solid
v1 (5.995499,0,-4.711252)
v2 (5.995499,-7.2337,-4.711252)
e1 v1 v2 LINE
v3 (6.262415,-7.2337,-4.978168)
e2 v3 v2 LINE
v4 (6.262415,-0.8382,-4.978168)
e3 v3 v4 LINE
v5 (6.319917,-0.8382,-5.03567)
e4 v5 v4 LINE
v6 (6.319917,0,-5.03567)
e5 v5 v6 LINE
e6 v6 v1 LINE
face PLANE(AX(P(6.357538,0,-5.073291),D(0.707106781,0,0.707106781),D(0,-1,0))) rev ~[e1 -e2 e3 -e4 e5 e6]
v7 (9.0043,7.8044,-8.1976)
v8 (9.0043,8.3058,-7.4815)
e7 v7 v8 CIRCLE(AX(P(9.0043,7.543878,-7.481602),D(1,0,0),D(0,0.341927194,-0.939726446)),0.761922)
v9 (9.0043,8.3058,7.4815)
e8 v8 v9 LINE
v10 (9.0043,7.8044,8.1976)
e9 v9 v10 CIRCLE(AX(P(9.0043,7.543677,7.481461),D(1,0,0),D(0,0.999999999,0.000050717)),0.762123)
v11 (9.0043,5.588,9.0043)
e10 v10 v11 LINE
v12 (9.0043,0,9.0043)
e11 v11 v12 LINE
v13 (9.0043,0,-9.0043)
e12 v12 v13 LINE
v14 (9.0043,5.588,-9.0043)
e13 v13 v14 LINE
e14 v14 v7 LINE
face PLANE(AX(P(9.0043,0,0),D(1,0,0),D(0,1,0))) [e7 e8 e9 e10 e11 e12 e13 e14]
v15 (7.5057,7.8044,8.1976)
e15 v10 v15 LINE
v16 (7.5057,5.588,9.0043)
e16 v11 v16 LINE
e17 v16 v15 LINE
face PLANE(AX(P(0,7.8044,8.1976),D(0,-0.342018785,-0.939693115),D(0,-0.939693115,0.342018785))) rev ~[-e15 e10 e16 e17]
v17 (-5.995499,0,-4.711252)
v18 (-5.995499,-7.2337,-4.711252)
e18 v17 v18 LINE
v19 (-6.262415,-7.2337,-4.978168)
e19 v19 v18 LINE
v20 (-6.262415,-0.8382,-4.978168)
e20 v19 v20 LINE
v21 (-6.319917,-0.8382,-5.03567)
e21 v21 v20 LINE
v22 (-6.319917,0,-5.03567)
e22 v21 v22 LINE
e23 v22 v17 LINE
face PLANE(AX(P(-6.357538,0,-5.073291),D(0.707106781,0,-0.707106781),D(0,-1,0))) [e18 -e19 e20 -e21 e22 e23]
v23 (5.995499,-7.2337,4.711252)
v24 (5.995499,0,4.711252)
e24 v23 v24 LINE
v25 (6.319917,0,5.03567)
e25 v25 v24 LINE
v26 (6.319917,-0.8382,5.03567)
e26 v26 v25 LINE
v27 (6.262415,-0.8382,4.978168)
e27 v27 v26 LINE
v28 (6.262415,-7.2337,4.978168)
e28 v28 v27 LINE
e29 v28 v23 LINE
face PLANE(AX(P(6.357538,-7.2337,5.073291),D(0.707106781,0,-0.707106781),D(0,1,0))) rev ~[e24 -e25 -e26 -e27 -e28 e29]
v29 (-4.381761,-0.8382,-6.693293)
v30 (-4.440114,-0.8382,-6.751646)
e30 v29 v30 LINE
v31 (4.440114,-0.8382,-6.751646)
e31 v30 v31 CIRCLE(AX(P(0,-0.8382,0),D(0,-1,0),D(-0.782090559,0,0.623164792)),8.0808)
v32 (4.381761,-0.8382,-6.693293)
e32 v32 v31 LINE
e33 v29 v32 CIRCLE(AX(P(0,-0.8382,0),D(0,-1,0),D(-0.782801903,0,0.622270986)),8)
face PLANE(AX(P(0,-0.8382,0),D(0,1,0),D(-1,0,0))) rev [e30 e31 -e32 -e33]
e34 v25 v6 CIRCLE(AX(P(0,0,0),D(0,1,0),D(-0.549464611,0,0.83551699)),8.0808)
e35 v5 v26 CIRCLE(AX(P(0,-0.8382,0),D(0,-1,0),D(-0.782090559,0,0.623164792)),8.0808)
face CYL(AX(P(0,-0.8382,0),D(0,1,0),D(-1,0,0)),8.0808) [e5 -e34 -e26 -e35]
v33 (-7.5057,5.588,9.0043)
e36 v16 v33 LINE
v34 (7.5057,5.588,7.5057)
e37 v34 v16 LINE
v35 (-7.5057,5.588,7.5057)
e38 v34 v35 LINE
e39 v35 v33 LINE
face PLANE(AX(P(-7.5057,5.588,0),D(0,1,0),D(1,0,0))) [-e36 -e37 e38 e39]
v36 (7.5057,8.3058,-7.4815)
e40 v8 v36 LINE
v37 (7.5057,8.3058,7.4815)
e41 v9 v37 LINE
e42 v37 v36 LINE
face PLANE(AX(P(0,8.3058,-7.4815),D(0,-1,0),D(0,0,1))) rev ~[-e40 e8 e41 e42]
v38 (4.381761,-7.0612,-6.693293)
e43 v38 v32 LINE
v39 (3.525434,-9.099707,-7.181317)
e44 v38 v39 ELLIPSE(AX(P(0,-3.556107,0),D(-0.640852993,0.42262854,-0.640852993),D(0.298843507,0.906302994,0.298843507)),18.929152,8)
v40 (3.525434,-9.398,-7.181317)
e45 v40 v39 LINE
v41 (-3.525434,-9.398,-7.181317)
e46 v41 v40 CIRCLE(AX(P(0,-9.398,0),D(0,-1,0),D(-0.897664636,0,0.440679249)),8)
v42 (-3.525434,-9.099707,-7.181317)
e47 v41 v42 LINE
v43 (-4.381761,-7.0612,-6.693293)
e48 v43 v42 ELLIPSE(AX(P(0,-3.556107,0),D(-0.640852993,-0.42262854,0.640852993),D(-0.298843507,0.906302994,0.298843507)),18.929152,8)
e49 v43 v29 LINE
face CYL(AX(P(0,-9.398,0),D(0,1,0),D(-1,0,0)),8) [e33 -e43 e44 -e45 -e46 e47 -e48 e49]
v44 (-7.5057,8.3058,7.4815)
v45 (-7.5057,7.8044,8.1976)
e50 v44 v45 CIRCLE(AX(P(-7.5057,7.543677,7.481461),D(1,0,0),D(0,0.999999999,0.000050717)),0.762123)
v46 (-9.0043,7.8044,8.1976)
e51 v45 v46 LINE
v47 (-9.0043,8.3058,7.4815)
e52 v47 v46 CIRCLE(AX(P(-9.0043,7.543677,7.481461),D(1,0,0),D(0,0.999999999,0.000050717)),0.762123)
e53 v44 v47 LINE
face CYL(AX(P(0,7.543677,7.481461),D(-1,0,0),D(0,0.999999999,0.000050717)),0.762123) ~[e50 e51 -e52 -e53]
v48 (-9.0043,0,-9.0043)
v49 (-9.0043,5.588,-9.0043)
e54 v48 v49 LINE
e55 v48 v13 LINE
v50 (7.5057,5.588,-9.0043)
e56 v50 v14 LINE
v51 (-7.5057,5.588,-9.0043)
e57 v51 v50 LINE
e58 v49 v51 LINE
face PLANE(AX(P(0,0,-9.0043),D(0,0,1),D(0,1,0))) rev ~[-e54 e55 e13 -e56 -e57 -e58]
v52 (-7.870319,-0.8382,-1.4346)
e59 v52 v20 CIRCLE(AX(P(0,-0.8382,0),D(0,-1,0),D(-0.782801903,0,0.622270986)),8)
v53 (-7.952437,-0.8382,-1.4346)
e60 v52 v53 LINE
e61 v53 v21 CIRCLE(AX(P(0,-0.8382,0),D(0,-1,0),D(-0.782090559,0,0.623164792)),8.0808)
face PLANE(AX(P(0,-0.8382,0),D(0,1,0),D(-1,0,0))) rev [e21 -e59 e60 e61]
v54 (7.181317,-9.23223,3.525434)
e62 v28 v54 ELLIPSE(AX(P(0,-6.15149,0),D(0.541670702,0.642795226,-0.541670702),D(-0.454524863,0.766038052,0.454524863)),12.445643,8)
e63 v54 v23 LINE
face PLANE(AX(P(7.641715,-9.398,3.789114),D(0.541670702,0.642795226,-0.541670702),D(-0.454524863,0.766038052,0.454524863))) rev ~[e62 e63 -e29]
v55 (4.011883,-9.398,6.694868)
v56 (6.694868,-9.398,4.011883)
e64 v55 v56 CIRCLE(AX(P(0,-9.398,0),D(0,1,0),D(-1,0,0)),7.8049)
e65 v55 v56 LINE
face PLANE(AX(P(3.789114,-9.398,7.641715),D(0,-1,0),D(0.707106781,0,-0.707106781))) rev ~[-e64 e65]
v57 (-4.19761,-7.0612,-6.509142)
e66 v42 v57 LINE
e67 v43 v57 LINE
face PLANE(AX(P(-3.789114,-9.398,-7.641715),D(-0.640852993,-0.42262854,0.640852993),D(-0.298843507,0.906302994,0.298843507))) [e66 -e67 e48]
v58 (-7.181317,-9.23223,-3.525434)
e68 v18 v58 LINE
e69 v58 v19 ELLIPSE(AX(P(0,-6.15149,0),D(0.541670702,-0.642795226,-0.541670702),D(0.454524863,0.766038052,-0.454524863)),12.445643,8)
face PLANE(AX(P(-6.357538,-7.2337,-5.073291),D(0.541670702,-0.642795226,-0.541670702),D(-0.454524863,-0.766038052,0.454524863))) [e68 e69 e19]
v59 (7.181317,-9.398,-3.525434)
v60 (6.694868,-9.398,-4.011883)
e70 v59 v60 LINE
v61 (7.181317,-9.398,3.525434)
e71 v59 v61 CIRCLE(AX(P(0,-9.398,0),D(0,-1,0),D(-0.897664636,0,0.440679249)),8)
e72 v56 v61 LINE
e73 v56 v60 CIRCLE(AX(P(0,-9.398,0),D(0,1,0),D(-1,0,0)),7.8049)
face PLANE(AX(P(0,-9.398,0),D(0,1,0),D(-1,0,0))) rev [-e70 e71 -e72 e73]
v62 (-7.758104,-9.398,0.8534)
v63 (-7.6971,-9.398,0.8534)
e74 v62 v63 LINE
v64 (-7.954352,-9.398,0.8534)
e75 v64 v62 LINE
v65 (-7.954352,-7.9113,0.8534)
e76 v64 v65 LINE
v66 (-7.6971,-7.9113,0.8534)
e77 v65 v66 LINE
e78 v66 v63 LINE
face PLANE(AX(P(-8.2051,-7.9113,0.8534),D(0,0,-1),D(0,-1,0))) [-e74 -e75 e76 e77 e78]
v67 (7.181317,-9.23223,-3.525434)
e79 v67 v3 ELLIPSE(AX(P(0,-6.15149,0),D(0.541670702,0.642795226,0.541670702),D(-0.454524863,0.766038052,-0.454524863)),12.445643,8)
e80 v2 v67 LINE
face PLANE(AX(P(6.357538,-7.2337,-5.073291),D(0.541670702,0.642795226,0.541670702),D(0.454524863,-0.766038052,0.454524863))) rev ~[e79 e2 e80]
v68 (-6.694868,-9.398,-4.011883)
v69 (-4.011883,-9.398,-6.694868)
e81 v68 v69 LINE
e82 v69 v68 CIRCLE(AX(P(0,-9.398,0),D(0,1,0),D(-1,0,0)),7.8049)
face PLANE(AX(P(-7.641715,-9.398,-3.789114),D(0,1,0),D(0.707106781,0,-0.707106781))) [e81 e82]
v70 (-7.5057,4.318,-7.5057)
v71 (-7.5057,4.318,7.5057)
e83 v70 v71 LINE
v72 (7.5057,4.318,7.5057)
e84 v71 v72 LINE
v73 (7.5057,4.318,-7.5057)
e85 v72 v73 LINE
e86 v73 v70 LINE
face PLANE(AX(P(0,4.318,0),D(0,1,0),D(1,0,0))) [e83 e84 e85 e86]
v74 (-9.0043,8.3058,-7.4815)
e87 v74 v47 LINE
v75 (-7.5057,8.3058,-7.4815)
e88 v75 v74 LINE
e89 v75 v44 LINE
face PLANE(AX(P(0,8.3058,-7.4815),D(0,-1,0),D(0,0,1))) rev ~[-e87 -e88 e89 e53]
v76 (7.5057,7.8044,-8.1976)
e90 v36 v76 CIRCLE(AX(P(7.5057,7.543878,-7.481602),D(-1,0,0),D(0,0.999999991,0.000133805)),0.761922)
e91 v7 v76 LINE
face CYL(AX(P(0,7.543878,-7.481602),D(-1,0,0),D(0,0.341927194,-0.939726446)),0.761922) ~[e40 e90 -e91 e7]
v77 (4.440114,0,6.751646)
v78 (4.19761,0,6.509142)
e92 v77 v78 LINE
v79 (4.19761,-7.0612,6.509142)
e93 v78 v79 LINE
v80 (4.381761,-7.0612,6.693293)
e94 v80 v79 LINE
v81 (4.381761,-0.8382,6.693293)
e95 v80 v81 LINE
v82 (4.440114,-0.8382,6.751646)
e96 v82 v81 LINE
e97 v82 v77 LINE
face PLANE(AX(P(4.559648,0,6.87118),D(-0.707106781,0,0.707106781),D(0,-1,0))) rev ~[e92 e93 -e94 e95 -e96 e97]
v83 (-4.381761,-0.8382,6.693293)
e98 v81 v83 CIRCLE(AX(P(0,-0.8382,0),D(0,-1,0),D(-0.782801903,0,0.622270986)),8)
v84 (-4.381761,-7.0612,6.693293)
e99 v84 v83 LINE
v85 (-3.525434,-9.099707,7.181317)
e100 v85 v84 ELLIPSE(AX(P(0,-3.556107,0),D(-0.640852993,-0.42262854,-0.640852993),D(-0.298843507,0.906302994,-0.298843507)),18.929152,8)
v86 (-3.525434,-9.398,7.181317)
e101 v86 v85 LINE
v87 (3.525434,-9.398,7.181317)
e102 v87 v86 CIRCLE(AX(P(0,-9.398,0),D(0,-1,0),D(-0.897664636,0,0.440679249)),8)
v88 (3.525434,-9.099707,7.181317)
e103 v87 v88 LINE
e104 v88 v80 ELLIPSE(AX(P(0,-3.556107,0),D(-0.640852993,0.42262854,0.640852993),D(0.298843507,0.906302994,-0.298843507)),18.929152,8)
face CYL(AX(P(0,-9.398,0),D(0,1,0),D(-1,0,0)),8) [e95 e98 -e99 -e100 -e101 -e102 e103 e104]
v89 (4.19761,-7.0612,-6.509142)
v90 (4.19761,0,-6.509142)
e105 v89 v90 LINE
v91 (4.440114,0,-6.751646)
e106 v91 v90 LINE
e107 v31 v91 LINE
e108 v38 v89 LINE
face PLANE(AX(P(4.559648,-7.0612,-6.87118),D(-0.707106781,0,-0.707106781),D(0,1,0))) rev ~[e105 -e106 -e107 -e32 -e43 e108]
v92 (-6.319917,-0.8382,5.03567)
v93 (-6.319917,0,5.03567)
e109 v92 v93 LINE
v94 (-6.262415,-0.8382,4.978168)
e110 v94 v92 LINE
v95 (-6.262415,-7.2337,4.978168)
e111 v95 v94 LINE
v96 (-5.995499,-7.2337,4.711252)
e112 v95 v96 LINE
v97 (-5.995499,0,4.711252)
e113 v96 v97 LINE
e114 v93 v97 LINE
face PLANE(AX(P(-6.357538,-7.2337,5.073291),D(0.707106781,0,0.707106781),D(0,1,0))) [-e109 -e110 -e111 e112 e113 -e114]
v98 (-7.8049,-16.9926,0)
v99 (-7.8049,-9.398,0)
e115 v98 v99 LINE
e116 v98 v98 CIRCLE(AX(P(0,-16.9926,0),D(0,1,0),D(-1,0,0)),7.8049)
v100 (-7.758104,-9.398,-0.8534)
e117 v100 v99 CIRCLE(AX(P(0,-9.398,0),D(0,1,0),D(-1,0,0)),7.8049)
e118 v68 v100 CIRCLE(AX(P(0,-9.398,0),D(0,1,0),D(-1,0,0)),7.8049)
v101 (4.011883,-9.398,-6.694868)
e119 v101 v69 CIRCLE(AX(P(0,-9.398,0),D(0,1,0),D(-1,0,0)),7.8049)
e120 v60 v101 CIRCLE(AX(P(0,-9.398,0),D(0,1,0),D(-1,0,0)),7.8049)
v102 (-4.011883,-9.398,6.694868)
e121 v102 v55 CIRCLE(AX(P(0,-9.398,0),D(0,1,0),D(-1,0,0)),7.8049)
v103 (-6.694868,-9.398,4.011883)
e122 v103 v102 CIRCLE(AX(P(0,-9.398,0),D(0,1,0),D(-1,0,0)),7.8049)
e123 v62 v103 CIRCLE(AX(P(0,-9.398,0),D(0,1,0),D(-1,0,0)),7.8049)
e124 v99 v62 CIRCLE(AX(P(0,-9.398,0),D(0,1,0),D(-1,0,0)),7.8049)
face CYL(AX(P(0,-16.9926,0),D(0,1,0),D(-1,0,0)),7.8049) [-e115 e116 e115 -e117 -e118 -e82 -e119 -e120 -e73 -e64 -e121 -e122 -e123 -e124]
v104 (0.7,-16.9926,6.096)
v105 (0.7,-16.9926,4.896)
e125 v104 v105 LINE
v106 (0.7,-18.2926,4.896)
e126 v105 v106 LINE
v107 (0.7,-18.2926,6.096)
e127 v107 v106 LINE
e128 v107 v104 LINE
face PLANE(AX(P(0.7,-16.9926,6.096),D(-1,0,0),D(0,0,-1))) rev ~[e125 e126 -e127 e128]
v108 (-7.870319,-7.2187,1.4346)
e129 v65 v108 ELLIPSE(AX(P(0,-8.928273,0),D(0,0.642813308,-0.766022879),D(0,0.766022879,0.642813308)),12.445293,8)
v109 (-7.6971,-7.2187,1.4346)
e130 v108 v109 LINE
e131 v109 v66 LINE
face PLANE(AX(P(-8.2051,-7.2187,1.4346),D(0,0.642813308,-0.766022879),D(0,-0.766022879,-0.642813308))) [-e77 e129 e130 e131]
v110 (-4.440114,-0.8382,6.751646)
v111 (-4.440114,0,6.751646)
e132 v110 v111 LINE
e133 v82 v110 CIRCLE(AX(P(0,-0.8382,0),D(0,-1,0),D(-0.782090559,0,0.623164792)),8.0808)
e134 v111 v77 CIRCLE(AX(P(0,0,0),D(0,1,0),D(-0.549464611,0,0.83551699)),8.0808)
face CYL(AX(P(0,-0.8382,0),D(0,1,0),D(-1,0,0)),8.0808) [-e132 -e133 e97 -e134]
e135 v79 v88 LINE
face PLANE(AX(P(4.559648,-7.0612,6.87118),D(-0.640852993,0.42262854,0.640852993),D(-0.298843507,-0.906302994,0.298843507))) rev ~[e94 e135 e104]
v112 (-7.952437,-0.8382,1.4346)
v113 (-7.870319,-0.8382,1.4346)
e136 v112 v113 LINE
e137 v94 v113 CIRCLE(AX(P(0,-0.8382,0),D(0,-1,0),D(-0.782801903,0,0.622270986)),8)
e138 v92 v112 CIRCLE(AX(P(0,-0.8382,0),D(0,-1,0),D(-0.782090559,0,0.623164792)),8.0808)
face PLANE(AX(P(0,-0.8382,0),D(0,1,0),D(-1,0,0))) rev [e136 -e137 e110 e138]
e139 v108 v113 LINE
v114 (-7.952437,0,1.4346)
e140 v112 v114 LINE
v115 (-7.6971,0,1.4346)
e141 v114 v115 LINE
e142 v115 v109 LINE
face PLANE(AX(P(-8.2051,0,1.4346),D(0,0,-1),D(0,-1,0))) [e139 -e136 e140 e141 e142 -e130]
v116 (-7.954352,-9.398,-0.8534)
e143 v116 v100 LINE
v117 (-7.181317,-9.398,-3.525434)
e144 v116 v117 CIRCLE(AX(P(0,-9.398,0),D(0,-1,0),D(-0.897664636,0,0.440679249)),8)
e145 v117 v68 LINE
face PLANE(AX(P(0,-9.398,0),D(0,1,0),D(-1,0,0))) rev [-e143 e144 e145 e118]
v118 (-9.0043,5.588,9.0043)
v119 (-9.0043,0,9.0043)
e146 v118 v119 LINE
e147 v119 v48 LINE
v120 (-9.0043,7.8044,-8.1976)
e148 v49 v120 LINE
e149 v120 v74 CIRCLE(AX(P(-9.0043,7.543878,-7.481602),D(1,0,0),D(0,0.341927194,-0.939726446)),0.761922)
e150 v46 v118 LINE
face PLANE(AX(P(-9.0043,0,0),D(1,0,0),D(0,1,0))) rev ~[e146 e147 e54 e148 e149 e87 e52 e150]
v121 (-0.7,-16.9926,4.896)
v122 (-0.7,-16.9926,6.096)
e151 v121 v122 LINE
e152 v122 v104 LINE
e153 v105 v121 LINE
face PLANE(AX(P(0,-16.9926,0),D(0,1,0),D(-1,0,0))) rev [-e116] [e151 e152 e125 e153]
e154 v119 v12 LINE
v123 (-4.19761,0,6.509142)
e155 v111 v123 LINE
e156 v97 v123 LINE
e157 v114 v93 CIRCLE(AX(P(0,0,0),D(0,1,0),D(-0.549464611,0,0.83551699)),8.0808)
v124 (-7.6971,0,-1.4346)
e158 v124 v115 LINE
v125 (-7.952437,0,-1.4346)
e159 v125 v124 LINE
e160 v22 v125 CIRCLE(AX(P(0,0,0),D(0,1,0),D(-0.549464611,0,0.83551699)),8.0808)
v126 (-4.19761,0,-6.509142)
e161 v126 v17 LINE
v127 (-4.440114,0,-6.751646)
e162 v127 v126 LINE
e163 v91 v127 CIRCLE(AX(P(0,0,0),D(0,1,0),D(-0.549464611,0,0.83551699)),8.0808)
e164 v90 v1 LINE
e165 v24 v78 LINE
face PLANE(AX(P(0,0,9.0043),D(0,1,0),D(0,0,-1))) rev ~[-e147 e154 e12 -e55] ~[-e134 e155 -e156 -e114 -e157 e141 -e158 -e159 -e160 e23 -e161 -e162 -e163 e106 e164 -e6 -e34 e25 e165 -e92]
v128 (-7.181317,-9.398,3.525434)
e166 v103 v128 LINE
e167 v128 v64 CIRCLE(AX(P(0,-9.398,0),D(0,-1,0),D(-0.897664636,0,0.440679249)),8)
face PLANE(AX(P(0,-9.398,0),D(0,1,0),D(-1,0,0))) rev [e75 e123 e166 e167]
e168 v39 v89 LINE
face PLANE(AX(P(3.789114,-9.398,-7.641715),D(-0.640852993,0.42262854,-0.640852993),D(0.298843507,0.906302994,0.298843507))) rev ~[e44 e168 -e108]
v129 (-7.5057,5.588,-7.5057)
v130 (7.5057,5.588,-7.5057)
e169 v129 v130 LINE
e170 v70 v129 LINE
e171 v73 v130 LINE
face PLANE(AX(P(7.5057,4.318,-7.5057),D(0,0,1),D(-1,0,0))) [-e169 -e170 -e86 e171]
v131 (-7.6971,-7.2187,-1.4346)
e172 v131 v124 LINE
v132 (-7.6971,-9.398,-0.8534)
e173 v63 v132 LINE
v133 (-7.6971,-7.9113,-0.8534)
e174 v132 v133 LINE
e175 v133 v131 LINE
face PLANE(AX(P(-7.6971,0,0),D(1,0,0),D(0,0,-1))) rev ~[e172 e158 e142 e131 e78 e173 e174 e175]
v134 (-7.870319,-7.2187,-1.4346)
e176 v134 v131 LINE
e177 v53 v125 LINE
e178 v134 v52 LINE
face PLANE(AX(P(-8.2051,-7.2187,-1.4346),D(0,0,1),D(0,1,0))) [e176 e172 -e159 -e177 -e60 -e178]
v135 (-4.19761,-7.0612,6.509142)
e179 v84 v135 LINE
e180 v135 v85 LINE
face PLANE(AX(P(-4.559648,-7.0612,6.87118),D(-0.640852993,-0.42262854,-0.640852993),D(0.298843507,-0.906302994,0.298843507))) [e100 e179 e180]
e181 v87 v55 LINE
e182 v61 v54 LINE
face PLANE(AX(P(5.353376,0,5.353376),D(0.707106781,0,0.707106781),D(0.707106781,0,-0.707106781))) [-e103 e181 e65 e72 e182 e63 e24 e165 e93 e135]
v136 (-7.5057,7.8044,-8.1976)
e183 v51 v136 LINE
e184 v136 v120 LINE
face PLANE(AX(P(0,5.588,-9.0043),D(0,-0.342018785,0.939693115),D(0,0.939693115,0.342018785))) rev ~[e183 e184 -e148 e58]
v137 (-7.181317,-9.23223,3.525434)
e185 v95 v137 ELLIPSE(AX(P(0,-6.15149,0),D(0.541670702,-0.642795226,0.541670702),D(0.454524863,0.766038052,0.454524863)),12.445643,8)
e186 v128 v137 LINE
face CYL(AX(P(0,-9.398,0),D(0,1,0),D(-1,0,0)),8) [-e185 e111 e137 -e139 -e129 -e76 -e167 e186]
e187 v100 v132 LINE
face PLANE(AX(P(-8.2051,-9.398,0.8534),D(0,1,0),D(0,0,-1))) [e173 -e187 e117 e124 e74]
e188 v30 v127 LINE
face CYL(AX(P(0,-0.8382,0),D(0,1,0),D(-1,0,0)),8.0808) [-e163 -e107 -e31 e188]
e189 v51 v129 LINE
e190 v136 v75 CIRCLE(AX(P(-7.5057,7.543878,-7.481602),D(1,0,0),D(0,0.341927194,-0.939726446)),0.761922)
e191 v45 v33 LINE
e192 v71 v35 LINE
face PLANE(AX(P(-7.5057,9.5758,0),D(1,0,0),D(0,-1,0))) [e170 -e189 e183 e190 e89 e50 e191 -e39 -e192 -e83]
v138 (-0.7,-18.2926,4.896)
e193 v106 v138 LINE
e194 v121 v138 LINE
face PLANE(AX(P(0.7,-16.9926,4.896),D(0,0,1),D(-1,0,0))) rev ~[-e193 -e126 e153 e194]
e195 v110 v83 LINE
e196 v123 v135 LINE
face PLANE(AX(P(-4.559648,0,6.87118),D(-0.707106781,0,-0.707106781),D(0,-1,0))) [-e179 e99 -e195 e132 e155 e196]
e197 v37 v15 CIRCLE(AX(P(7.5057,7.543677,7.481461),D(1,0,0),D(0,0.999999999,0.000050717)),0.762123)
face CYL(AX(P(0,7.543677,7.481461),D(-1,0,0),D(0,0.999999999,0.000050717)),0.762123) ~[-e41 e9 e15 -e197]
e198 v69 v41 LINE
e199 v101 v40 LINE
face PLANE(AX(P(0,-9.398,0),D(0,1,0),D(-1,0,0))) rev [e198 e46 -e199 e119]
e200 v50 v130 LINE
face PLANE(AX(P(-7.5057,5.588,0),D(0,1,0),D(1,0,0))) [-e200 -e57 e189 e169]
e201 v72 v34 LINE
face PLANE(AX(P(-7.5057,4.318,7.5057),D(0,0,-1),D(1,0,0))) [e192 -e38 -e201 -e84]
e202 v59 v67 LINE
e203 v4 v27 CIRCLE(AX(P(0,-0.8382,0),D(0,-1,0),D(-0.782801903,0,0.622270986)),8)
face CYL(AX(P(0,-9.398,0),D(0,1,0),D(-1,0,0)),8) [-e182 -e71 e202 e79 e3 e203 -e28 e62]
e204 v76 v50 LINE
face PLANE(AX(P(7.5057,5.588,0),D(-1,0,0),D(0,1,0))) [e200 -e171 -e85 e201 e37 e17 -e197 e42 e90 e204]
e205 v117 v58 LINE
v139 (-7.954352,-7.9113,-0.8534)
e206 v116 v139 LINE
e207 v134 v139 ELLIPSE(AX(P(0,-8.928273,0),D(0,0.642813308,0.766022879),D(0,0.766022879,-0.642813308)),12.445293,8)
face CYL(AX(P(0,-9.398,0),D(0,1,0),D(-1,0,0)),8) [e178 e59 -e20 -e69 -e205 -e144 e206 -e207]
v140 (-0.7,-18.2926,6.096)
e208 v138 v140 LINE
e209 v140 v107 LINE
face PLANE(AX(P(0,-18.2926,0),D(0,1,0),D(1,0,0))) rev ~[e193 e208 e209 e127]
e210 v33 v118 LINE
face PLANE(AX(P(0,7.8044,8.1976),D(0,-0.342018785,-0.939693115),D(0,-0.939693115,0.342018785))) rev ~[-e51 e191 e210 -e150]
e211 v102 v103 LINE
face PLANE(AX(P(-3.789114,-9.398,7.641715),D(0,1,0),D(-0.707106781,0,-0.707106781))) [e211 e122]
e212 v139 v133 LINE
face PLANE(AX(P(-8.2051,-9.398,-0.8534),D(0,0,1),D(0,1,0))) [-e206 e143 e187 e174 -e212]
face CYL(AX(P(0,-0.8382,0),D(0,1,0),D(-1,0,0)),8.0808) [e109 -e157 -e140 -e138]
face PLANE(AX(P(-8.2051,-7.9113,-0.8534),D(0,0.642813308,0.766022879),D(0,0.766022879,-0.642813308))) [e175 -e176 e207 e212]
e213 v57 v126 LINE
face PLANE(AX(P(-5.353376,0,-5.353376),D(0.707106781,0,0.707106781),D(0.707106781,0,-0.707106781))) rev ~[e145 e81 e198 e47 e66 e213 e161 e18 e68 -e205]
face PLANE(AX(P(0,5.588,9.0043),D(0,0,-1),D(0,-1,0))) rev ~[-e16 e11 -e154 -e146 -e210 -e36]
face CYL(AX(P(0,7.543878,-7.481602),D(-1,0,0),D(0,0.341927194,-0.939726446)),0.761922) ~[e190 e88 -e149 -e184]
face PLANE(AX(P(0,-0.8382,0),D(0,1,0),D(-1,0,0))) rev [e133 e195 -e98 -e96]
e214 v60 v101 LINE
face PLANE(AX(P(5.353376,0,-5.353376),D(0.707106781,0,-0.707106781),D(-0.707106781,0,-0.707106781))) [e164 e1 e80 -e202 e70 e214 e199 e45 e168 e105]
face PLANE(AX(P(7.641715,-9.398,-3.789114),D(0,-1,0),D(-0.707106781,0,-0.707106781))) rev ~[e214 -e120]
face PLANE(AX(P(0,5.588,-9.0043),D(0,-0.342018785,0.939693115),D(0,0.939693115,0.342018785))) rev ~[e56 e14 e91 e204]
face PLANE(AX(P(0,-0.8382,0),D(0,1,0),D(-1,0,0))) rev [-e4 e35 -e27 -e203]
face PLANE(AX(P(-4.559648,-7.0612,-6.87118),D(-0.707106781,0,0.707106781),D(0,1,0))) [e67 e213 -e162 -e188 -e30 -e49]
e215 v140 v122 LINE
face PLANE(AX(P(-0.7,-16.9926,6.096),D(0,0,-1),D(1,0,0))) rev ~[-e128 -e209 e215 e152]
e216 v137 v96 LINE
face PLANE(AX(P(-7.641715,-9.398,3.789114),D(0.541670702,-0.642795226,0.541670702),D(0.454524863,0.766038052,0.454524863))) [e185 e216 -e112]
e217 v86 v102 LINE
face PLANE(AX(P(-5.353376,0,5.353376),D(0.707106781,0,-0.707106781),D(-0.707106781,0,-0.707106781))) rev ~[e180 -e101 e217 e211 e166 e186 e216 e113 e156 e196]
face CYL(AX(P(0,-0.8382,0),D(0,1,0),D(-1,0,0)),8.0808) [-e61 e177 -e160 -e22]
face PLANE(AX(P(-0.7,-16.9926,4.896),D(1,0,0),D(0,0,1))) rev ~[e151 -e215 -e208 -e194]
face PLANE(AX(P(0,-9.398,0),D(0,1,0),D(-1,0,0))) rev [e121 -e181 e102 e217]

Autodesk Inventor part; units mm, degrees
sketch "Sketch_1" plane through (0, 0, 0) normal (0, 0, 1) x (1, 0, 0)
  line L0 (0, 0) -> (0, -9.398)
  line L1 (0, -9.398) -> (-8, -9.398)
  line L2 (-8, -9.398) -> (-8, -0.8382)
  line L3 (-8, -0.8382) -> (-8.0808, -0.8382)
  line L4 (-8.0808, -0.8382) -> (-8.0808, 0)
  line L5 (-8.0808, 0) -> (0, 0)
  line L6 (0, 0) -> (0, -9.398)
revolve "Revolution1" add sketch "Sketch_1" angle 360 about axis through (0, 0, 0) along (0, 1, 0)
thread "Thread1" size "M16x2" class "6g" standard "ISO Metric profile" full length
sketch "Sketch_15" plane through (0, 0, 0) normal (0, 0, 1) x (1, 0, 0)
  line L0 (0, -9.398) -> (0, -16.9926)
  line L1 (0, -16.9926) -> (-7.8049, -16.9926)
  line L2 (-7.8049, -16.9926) -> (-7.8049, -9.398)
  line L3 (-7.8049, -9.398) -> (0, -9.398)
  line L4 (0, -9.398) -> (0, -16.9926)
revolve "Revolution2" add sketch "Sketch_15" angle 360 about axis through (0, -9.398, 0) along (0, 1, 0)
sketch "Sketch_7" plane through (-5.714, 0, 5.714) normal (0.7071, 0, -0.7071) x (-0.7071, 0, -0.7071)
  line L0 (-2.7242, -9.398) -> (2.7242, -9.398)
  line L1 (2.7242, -9.398) -> (0.9081, -7.2337)
  line L2 (0.9081, -7.2337) -> (0.9081, 0)
  line L3 (0.9081, 0) -> (-1.6345, 0)
  line L4 (-1.6345, 0) -> (-1.6345, -7.0612)
  line L5 (-1.6345, -7.0612) -> (-2.7242, -9.398)
extrude "Extrusion1" cut sketch "Sketch_7" along normal blind 0.508
sketch "Sketch_9" plane through (5.714, 0, 5.714) normal (0.7071, 0, 0.7071) x (0.7071, 0, -0.7071)
  line L0 (-2.7242, -9.398) -> (2.7242, -9.398)
  line L1 (2.7242, -9.398) -> (0.9081, -7.2337)
  line L2 (0.9081, -7.2337) -> (0.9081, 0)
  line L3 (0.9081, 0) -> (-1.6345, 0)
  line L4 (-1.6345, 0) -> (-1.6345, -7.0612)
  line L5 (-1.6345, -7.0612) -> (-2.7242, -9.398)
extrude "Extrusion2" cut sketch "Sketch_9" against normal blind 0.508
sketch "Sketch_8" plane through (5.714, 0, -5.714) normal (0.7071, 0, -0.7071) x (-0.7071, 0, -0.7071)
  line L0 (-2.7242, -9.398) -> (2.7242, -9.398)
  line L1 (2.7242, -9.398) -> (1.6345, -7.0612)
  line L2 (1.6345, -7.0612) -> (1.6345, 0)
  line L3 (1.6345, 0) -> (-0.9081, 0)
  line L4 (-0.9081, 0) -> (-0.9081, -7.2337)
  line L5 (-0.9081, -7.2337) -> (-2.7242, -9.398)
extrude "Extrusion3" cut sketch "Sketch_8" against normal blind 0.508
sketch "Sketch_10" plane through (-5.714, 0, -5.714) normal (0.7071, 0, 0.7071) x (0.7071, 0, -0.7071)
  line L0 (-2.7242, -9.398) -> (2.7242, -9.398)
  line L1 (2.7242, -9.398) -> (1.6345, -7.0612)
  line L2 (1.6345, -7.0612) -> (1.6345, 0)
  line L3 (1.6345, 0) -> (-0.9081, 0)
  line L4 (-0.9081, 0) -> (-0.9081, -7.2337)
  line L5 (-0.9081, -7.2337) -> (-2.7242, -9.398)
extrude "Extrusion4" cut sketch "Sketch_10" along normal blind 0.508
sketch "Sketch_14" plane through (-8.2051, 0, 0) normal (1, 0, 0) x (0, 0, -1)
  line L0 (-1.4346, -7.2187) -> (-0.8534, -7.9113)
  line L1 (-0.8534, -7.9113) -> (-0.8534, -9.398)
  line L2 (-0.8534, -9.398) -> (0.8534, -9.398)
  line L3 (0.8534, -9.398) -> (0.8534, -7.9113)
  line L4 (0.8534, -7.9113) -> (1.4346, -7.2187)
  line L5 (1.4346, -7.2187) -> (1.4346, 0)
  line L6 (1.4346, 0) -> (-1.4346, 0)
  line L7 (-1.4346, 0) -> (-1.4346, -7.2187)
extrude "Extrusion5" cut sketch "Sketch_14" along normal blind 0.508
sketch "Sketch_20" plane through (0, 0, 0) normal (1, 0, 0) x (0, 1, 0)
  line L0 (0, 9.0043) -> (0, -9.0043)
  line L1 (0, -9.0043) -> (5.588, -9.0043)
  line L2 (5.588, -9.0043) -> (7.8044, -8.1976)
  arc A0 (7.8044, -8.1976) -> (8.3058, -7.4815) centre (7.5438, -7.4815) ccw
  line L3 (8.3058, -7.4815) -> (8.3058, 7.4815)
  arc A1 (8.3058, 7.4815) -> (7.8044, 8.1976) centre (7.5438, 7.4815) ccw
  line L4 (7.8044, 8.1976) -> (5.588, 9.0043)
  line L5 (5.588, 9.0043) -> (0, 9.0043)
extrude "Extrusion6" add sketch "Sketch_20" along normal mid plane 18.0086
sketch "Sketch_19" plane through (0, 0, 0) normal (0, 0, 1) x (1, 0, 0)
  line L0 (-7.5057, 5.588) -> (7.5057, 5.588)
  line L1 (7.5057, 5.588) -> (7.5057, 9.5758)
  line L2 (7.5057, 9.5758) -> (-7.5057, 9.5758)
  line L3 (-7.5057, 9.5758) -> (-7.5057, 5.588)
extrude "Extrusion7" cut sketch "Sketch_19" along normal mid plane 30.0228
sketch "Sketch_18" plane through (0, 4.318, 0) normal (0, 1, 0) x (1, 0, 0)
  line L0 (-7.5057, 7.5057) -> (-7.5057, -7.5057)
  line L1 (-7.5057, -7.5057) -> (7.5057, -7.5057)
  line L2 (7.5057, -7.5057) -> (7.5057, 7.5057)
  line L3 (7.5057, 7.5057) -> (-7.5057, 7.5057)
extrude "Extrusion8" cut sketch "Sketch_18" along normal blind 8.3058
sketch "Sketch_2" plane through (0, -16.9926, 0) normal (0, 1, 0) x (1, 0, 0)
  line L0 (-0.7, -6.096) -> (0.7, -6.096)
  line L1 (0.7, -6.096) -> (0.7, -4.896)
  line L2 (0.7, -4.896) -> (-0.7, -4.896)
  line L3 (-0.7, -4.896) -> (-0.7, -6.096)
extrude "Extrusion9" add sketch "Sketch_2" along normal mid plane 2.6
ref_plane "body_to_cap_XY" through (0, 4.318, 0) normal (0, 1, 0) x (1, 0, 0)
ref_plane "body_to_cap_YZ" through (0, 4.318, 0) normal (1, 0, 0) x (0, 0, -1)
ref_plane "body_to_cap_ZX" through (0, 4.318, 0) normal (0, 0, -1) x (0, 1, 0)
ref_plane "body_to_metal_XY" through (0, -8.7173, 0) normal (0, 1, 0) x (1, 0, 0)
ref_plane "body_to_metal_YZ" through (0, -8.7173, 0) normal (1, 0, 0) x (0, 0, -1)
ref_plane "body_to_metal_ZX" through (0, -8.7173, 0) normal (0, 0, -1) x (0, 1, 0)
ref_plane "body_to_nut_XY" through (0, 0, 0) normal (0, 1, 0) x (1, 0, 0)
ref_plane "body_to_nut_YZ" through (0, 0, 0) normal (1, 0, 0) x (0, 0, -1)
ref_plane "body_to_nut_ZX" through (0, 0, 0) normal (0, 0, -1) x (0, 1, 0)
properties part number "YB16SKW01-BBni_body"
